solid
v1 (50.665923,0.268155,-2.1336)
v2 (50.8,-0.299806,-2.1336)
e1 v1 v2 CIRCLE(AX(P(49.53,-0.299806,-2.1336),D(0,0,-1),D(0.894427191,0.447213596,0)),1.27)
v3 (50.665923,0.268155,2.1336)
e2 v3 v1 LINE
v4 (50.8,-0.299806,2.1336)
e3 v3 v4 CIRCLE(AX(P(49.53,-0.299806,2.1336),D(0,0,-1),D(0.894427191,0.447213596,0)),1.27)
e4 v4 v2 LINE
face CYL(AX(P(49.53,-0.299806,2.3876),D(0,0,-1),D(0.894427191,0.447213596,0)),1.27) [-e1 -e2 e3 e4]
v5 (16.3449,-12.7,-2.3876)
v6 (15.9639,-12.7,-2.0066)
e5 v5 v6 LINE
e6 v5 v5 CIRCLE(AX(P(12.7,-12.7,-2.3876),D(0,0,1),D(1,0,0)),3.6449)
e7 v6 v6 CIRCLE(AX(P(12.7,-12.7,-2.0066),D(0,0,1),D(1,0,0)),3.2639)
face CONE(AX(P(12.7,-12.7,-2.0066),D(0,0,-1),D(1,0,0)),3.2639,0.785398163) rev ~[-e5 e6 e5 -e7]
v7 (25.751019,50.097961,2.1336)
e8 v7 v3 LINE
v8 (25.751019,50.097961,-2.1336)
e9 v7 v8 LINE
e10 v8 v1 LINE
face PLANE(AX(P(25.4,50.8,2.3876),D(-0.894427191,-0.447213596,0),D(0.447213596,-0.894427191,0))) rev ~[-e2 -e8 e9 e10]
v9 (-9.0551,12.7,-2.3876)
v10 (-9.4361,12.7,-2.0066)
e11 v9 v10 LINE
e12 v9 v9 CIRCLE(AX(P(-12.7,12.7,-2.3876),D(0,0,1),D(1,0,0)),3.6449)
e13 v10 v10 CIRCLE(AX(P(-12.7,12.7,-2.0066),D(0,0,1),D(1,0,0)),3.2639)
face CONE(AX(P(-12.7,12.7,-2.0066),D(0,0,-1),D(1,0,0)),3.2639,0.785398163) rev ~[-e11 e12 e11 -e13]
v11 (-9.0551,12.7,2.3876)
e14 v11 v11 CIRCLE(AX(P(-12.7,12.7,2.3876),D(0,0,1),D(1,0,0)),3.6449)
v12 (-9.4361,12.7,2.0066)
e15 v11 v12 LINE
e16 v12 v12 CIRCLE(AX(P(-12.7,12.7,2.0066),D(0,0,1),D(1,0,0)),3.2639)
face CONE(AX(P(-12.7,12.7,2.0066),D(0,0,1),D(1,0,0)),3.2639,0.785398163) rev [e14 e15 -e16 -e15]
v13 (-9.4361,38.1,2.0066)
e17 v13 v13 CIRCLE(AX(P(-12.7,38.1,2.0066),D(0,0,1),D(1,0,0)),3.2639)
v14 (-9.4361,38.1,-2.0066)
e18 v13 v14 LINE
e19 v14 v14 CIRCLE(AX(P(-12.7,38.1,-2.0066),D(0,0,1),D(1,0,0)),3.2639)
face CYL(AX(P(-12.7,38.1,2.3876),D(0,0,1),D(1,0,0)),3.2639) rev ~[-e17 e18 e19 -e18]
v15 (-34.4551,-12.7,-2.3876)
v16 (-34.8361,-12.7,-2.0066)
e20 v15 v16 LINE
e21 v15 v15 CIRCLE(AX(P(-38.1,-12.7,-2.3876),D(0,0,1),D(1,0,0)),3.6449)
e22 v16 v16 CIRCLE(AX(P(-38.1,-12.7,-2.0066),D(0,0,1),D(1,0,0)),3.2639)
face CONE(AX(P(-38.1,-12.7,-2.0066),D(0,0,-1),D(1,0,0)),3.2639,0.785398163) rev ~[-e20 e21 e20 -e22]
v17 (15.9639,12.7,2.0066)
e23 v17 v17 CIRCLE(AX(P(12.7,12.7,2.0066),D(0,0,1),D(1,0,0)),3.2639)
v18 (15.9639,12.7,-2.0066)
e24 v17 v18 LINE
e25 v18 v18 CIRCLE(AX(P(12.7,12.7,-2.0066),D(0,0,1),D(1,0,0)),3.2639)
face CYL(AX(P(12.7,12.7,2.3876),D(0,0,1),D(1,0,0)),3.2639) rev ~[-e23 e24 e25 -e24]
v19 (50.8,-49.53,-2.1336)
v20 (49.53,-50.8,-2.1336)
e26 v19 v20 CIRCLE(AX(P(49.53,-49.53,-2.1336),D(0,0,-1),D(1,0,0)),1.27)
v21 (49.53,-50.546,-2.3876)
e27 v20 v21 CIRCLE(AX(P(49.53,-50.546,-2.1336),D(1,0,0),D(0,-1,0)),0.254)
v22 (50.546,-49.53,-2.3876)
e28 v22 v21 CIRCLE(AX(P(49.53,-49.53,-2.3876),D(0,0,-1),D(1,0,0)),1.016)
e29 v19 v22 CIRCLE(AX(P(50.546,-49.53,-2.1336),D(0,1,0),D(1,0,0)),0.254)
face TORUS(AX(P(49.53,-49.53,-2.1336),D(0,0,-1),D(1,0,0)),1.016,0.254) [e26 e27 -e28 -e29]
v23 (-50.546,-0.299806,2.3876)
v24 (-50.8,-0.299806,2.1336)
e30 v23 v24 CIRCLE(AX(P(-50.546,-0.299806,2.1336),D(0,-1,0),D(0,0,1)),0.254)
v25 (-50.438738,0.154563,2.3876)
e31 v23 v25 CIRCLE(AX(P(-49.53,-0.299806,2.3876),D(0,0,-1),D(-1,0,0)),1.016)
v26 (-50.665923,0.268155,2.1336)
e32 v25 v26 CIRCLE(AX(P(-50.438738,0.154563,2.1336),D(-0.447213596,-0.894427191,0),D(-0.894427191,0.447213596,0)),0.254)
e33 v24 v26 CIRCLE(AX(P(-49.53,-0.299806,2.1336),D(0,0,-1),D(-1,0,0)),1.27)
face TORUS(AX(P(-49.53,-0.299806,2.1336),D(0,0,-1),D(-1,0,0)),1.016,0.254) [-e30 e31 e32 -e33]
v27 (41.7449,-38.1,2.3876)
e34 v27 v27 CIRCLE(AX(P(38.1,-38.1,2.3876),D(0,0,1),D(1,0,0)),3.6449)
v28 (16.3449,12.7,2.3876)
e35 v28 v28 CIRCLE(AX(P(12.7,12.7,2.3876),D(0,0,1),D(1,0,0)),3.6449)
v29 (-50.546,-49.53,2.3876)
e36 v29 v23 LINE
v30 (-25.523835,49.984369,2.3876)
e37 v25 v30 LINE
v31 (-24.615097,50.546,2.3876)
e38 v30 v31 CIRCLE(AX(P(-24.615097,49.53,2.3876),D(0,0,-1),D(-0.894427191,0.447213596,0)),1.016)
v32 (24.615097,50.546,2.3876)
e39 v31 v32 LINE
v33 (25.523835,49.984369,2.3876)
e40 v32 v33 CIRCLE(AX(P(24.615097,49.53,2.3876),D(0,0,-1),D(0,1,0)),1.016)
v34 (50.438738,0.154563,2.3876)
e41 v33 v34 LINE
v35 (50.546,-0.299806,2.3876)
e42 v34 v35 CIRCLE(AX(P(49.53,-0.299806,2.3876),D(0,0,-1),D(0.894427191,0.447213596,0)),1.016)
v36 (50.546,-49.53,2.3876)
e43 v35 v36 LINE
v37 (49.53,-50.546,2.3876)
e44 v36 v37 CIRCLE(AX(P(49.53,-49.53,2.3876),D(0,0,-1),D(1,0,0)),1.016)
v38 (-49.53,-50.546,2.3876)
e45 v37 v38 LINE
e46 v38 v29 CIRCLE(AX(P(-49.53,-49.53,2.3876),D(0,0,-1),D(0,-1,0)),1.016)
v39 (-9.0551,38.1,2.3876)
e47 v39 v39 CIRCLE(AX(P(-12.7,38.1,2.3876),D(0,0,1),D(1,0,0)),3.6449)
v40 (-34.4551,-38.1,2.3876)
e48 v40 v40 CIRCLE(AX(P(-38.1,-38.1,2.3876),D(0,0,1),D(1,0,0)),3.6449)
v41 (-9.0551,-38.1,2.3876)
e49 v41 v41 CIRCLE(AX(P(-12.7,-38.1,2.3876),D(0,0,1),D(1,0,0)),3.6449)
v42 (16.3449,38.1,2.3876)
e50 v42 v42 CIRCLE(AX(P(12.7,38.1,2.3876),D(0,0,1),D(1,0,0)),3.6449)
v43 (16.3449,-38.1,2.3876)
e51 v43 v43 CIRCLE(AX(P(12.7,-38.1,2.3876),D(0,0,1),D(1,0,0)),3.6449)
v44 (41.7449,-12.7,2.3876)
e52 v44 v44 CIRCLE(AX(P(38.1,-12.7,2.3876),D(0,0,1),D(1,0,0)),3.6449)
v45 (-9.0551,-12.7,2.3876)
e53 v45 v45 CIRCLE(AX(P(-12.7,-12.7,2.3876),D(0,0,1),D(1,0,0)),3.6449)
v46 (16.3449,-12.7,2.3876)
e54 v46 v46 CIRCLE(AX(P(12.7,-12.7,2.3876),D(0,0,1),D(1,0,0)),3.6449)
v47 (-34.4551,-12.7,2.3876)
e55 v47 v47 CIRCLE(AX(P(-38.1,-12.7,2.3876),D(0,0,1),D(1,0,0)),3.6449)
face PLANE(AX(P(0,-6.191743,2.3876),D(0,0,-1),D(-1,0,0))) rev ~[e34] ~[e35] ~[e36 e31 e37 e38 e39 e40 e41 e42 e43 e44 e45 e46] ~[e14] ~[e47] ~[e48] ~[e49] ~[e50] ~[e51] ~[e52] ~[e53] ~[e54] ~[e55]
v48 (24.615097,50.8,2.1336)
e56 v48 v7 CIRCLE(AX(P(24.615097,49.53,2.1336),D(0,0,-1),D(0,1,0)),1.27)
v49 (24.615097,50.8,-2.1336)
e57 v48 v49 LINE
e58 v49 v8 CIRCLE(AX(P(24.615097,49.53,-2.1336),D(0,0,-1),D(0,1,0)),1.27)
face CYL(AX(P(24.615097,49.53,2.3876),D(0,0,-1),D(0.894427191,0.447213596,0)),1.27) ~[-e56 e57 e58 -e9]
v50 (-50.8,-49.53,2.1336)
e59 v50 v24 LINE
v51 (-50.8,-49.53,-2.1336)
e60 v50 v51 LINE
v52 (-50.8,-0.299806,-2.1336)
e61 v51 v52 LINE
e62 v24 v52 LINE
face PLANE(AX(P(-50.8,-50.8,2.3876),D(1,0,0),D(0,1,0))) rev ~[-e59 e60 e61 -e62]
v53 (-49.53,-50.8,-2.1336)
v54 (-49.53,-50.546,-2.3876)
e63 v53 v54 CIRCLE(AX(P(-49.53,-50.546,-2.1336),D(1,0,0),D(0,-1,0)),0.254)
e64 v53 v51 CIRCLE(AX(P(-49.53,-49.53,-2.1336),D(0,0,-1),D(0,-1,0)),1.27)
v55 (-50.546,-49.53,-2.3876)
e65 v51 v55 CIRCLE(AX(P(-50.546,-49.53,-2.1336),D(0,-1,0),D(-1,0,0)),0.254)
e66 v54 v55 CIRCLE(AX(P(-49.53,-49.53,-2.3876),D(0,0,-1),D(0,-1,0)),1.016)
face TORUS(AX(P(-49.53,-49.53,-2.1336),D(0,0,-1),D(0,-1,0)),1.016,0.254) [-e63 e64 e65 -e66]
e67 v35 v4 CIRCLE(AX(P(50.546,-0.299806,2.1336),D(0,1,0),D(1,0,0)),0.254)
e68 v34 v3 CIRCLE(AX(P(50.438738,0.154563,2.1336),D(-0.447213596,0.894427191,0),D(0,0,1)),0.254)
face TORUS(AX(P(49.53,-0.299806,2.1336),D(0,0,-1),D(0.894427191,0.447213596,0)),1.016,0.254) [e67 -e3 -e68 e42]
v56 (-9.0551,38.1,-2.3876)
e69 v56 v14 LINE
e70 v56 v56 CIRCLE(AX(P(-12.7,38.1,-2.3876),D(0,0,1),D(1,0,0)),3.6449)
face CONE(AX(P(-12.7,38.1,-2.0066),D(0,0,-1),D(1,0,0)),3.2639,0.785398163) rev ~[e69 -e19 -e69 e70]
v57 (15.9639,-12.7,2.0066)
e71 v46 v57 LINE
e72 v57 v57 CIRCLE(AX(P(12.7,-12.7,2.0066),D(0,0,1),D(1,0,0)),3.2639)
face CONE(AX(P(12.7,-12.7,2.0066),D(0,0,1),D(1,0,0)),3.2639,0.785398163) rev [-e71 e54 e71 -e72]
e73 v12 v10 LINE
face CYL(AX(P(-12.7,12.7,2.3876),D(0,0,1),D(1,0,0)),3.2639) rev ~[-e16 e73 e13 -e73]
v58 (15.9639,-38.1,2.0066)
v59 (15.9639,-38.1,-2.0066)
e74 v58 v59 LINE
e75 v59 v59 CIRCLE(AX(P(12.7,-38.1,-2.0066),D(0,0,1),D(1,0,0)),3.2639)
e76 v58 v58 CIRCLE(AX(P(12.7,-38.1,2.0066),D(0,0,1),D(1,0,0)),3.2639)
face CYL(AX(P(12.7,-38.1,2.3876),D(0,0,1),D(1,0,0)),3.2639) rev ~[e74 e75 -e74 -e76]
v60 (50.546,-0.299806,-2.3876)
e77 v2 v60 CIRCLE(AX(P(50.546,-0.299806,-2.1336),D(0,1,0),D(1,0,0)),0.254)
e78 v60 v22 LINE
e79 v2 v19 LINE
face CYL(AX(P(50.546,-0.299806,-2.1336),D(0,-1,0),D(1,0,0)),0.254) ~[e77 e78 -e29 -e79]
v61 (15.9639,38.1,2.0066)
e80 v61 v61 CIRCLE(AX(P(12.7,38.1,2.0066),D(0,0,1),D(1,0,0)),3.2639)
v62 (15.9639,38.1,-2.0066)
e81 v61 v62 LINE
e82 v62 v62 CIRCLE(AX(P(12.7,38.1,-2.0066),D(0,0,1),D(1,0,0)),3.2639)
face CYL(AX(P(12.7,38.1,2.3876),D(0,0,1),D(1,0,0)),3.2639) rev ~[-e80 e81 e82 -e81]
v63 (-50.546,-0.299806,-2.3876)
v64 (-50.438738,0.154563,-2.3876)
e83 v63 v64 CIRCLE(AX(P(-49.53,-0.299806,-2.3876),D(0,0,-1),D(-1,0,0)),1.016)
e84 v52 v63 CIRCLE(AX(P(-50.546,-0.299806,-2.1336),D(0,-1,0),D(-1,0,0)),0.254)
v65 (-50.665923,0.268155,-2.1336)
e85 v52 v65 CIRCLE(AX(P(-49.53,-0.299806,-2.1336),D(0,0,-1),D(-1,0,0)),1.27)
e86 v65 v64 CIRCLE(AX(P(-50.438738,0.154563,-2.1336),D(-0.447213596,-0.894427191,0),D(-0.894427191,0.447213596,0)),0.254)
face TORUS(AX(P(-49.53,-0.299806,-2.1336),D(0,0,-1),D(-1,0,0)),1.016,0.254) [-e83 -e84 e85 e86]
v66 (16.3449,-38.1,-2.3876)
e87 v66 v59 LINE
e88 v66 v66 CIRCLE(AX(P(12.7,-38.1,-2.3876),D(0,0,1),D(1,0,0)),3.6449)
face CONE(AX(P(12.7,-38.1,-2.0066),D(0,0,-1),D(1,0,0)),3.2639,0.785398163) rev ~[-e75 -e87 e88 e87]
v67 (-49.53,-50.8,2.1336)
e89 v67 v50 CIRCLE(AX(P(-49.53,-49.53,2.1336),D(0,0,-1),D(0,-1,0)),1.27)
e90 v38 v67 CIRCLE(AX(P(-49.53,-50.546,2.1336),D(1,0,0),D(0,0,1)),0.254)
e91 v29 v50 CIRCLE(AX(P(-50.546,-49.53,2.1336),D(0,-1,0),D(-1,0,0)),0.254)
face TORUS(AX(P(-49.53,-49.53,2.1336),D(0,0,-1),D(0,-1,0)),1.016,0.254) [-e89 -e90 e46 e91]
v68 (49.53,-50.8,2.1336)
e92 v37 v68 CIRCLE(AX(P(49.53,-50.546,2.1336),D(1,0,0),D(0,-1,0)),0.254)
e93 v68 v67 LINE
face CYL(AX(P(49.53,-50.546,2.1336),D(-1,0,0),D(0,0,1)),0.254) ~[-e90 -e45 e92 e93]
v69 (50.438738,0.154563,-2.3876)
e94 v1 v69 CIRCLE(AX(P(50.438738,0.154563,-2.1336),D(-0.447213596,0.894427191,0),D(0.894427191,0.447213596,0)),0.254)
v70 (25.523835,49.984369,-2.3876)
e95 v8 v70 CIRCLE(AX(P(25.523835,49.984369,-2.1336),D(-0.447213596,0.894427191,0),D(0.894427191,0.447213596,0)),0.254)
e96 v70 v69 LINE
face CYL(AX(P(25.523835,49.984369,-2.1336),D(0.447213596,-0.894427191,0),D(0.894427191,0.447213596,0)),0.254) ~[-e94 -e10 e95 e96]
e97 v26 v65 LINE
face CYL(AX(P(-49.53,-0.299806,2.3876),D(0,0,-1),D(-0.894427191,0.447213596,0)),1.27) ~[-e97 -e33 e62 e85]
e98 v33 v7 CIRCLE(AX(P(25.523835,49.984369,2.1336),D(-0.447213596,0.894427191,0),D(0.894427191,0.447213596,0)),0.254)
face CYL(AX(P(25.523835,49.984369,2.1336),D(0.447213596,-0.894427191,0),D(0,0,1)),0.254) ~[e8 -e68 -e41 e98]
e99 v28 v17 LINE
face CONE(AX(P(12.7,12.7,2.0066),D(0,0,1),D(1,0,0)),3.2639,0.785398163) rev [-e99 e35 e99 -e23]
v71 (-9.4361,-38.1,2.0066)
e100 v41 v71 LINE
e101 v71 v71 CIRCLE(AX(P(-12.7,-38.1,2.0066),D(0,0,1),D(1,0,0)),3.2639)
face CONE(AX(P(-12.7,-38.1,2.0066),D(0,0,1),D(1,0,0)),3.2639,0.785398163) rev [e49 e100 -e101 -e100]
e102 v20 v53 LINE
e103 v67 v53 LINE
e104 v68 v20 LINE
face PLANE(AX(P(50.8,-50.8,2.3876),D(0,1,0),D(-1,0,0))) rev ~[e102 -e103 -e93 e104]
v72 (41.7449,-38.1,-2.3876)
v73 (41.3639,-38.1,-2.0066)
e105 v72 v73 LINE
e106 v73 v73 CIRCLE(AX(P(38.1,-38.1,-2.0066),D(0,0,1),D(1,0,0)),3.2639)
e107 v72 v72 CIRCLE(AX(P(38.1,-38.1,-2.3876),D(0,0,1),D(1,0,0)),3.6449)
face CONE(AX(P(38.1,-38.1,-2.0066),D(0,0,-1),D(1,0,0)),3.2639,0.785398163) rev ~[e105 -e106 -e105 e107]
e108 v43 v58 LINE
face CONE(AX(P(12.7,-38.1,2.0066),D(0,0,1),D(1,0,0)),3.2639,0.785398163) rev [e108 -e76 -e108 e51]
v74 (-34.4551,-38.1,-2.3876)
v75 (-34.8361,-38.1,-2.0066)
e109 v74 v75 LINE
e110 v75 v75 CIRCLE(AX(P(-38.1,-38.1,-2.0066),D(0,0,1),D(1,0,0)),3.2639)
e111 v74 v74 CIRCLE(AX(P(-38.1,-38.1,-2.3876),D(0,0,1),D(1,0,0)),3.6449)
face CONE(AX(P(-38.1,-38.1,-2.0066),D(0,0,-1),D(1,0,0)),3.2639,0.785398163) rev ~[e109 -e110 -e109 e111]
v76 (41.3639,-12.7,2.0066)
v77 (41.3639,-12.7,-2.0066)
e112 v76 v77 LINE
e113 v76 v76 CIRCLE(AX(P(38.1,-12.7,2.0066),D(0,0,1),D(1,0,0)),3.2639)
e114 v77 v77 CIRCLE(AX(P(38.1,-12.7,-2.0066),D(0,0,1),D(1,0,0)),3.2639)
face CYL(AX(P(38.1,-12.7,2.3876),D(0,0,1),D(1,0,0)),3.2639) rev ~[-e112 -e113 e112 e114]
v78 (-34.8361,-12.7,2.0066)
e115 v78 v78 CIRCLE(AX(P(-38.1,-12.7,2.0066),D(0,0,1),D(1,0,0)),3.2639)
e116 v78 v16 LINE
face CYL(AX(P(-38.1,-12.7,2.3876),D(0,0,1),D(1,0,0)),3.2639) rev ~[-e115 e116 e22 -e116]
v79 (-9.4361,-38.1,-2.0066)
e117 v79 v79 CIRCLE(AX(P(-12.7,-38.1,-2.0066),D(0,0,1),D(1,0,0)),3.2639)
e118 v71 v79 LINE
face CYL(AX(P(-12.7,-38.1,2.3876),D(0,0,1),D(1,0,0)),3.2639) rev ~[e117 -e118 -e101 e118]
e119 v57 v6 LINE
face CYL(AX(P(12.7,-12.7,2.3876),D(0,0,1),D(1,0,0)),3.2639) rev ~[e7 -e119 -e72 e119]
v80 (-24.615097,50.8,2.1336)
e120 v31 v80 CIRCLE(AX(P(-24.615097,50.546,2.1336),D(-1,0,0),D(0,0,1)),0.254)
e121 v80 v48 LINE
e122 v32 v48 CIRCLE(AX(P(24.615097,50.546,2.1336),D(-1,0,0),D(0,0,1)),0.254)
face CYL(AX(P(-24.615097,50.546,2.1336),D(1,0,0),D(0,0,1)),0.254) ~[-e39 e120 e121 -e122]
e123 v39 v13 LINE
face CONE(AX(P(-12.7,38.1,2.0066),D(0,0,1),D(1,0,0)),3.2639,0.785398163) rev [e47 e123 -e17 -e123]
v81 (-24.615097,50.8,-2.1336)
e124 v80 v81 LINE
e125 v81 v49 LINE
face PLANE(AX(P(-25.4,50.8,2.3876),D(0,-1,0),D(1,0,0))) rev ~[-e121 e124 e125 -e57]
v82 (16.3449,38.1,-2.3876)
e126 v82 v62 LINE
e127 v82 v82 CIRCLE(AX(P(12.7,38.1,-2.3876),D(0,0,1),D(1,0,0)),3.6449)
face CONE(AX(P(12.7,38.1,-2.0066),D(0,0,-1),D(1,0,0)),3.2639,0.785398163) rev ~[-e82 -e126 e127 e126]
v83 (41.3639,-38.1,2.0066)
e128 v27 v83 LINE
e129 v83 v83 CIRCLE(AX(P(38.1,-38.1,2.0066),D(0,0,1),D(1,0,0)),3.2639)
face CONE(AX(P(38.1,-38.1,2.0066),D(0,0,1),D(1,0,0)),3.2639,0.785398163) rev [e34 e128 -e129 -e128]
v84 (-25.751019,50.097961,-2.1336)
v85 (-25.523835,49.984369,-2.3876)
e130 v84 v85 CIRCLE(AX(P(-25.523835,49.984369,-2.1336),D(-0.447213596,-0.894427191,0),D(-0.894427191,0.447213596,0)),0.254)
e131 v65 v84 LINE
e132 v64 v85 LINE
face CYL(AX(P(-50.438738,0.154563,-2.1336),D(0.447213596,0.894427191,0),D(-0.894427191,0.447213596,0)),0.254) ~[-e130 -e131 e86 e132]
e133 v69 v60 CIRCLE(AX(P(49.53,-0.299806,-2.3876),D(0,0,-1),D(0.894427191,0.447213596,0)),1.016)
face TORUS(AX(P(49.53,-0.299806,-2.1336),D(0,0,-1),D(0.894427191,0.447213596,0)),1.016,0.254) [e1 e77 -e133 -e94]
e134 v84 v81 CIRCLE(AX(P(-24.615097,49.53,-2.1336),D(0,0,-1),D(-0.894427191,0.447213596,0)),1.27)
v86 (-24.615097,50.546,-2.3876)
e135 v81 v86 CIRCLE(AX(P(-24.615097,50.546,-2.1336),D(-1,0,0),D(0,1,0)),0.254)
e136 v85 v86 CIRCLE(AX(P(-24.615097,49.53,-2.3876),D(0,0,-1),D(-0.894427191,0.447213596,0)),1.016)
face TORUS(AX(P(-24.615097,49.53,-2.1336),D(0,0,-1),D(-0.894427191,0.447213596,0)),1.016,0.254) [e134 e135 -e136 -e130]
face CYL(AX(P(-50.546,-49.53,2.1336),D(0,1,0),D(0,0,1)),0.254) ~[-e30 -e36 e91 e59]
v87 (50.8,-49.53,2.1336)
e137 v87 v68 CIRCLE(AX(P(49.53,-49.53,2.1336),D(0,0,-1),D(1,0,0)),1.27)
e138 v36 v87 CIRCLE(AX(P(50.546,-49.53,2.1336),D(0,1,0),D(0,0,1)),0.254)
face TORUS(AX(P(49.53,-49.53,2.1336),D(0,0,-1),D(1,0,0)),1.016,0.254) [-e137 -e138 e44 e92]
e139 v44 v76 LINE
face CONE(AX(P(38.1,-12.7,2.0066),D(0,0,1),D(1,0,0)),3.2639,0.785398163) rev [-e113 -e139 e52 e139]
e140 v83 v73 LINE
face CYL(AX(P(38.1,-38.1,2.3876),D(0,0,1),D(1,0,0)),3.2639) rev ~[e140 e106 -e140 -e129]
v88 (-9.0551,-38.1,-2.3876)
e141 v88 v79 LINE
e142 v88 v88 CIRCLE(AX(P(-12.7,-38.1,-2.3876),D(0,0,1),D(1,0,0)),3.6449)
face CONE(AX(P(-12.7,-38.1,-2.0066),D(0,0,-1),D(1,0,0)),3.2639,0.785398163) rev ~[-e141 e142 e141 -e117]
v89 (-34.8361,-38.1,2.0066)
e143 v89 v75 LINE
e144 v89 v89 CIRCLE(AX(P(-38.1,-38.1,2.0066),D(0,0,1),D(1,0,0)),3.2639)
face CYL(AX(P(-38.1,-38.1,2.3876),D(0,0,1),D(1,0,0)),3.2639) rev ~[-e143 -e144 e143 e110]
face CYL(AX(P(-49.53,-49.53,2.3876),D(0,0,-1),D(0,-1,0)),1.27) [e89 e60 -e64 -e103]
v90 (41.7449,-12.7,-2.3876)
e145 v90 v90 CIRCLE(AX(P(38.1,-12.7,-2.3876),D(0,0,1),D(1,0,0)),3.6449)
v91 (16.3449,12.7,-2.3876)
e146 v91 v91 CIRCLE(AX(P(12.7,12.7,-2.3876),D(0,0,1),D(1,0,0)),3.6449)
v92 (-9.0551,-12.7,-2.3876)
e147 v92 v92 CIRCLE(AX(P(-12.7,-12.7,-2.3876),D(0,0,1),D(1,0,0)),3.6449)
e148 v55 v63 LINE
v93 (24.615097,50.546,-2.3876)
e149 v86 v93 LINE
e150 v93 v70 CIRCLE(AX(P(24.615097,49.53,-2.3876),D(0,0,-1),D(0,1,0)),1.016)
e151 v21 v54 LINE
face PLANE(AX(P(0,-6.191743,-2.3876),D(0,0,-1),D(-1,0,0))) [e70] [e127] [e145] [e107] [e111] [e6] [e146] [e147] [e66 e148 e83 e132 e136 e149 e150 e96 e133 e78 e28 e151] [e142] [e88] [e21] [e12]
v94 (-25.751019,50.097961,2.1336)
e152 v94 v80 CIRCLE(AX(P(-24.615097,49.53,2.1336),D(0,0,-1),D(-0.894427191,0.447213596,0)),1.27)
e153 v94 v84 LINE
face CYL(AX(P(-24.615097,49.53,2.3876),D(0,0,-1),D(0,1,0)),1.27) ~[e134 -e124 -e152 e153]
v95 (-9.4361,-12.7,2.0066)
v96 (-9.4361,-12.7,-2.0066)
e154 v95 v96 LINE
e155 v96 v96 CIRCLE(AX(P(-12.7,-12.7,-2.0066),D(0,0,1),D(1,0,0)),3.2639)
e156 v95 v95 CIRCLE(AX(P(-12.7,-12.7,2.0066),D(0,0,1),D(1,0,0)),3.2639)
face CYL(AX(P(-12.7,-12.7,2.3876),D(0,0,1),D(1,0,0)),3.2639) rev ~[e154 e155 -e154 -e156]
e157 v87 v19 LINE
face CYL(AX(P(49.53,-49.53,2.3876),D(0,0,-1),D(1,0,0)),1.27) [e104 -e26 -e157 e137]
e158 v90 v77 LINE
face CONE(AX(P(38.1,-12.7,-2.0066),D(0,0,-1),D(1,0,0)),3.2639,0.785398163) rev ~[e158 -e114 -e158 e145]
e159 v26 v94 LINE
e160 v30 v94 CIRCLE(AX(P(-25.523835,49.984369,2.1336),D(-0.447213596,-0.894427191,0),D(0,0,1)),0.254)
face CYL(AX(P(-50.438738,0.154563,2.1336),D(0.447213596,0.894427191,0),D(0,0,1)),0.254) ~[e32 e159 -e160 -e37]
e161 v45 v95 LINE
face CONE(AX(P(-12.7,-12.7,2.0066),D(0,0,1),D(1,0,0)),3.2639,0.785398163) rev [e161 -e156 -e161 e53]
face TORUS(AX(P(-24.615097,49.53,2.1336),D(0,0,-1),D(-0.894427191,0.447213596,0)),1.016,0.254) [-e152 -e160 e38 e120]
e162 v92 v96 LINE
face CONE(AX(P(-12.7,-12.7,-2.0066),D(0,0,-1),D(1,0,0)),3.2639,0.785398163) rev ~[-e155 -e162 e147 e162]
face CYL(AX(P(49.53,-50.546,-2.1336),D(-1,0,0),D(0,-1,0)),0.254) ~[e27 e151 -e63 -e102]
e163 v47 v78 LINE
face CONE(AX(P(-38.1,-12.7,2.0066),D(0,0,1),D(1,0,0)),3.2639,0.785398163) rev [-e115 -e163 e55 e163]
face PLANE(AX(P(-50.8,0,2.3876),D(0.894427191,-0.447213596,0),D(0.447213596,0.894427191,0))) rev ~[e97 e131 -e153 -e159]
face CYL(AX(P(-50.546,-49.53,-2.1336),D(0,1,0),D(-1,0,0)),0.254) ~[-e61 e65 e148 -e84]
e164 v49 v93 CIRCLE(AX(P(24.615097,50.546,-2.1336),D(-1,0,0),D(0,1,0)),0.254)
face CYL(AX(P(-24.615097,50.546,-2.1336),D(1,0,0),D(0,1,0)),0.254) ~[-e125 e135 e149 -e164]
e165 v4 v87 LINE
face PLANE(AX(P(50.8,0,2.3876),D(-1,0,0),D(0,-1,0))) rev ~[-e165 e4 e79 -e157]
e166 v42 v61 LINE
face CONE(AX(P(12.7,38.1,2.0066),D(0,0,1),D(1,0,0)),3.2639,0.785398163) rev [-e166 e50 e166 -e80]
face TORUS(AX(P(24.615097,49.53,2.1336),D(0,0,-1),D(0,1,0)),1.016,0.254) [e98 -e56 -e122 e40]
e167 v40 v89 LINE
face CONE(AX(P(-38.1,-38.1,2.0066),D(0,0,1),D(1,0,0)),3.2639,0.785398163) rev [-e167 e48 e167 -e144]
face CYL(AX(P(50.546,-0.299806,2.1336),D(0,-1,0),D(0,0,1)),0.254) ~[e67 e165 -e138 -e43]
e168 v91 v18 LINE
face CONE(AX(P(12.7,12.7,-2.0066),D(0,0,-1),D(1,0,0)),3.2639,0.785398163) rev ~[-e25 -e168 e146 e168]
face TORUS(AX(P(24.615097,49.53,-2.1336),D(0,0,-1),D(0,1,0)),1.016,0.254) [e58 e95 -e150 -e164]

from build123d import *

# Parameters (mm, degrees)
BOSS_EXTRUDE1_START = 2.3876
SKETCH3_R           = 3.2639
BOSS_EXTRUDE1_DEPTH = 4.7752
FILLET1_R           = 1.27
CHAMFER1_SIZE       = 0.381
FILLET2_R           = 0.254


with BuildPart() as part:
    # Sketch3 → Boss-Extrude1 (new body)
    with BuildSketch(Plane.XY.offset(BOSS_EXTRUDE1_START)):
        Polygon((25.4, 50.8), (50.8, 0), (50.8, -50.8), (-50.8, -50.8), (-50.8, 0), (-25.4, 50.8), align=None)
        with Locations((-38.1, -38.1)):
            Circle(SKETCH3_R, mode=Mode.SUBTRACT)
        with Locations((-12.7, -38.1)):
            Circle(SKETCH3_R, mode=Mode.SUBTRACT)
        with Locations((12.7, -38.1)):
            Circle(SKETCH3_R, mode=Mode.SUBTRACT)
        with Locations((38.1, -38.1)):
            Circle(SKETCH3_R, mode=Mode.SUBTRACT)
        with Locations((-12.7, -12.7)):
            Circle(SKETCH3_R, mode=Mode.SUBTRACT)
        with Locations((12.7, -12.7)):
            Circle(SKETCH3_R, mode=Mode.SUBTRACT)
        with Locations((38.1, -12.7)):
            Circle(SKETCH3_R, mode=Mode.SUBTRACT)
        with Locations((-12.7, 12.7)):
            Circle(SKETCH3_R, mode=Mode.SUBTRACT)
        with Locations((12.7, 12.7)):
            Circle(SKETCH3_R, mode=Mode.SUBTRACT)
        with Locations((-12.7, 38.1)):
            Circle(SKETCH3_R, mode=Mode.SUBTRACT)
        with Locations((12.7, 38.1)):
            Circle(SKETCH3_R, mode=Mode.SUBTRACT)
        with Locations((-38.1, -12.7)):
            Circle(SKETCH3_R, mode=Mode.SUBTRACT)
    extrude(amount=-BOSS_EXTRUDE1_DEPTH)

    # Fillet1
    fillet1_edges = [part.edges().sort_by_distance(p)[0] for p in [
        (25.4, 50.8, 0),
        (50.8, 0, 0),
        (50.8, -50.8, 0),
        (-50.8, -50.8, 0),
        (-50.8, 0, 0),
        (-25.4, 50.8, 0),
    ]]
    fillet(fillet1_edges, radius=FILLET1_R)

    # Chamfer1
    chamfer1_edges = [part.edges().sort_by_distance(p)[0] for p in [
        (-41.3639, -38.1, -2.3876),
        (-41.3639, -38.1, 2.3876),
        (-15.9639, -38.1, -2.3876),
        (-15.9639, -38.1, 2.3876),
        (9.4361, -38.1, -2.3876),
        (9.4361, -38.1, 2.3876),
        (34.8361, -38.1, -2.3876),
        (34.8361, -38.1, 2.3876),
        (-15.9639, -12.7, -2.3876),
        (-15.9639, -12.7, 2.3876),
        (9.4361, -12.7, -2.3876),
        (9.4361, -12.7, 2.3876),
        (34.8361, -12.7, -2.3876),
        (34.8361, -12.7, 2.3876),
        (-15.9639, 12.7, -2.3876),
        (-15.9639, 12.7, 2.3876),
        (9.4361, 12.7, -2.3876),
        (9.4361, 12.7, 2.3876),
        (-15.9639, 38.1, -2.3876),
        (-15.9639, 38.1, 2.3876),
        (9.4361, 38.1, -2.3876),
        (9.4361, 38.1, 2.3876),
        (-41.3639, -12.7, -2.3876),
        (-41.3639, -12.7, 2.3876),
    ]]
    chamfer(chamfer1_edges, length=CHAMFER1_SIZE)

    # Fillet2
    fillet2_edges = [part.edges().sort_by_distance(p)[0] for p in [
        (0, 50.8, 2.3876),
        (0, 50.8, -2.3876),
        (-38.20847095, 25.183058101, 2.3876),
        (-50.8, -24.914903166, 2.3876),
        (0, -50.8, 2.3876),
        (50.8, -24.914903166, 2.3876),
        (38.20847095, 25.183058101, 2.3876),
        (50.766026217, -0.008020122, 2.3876),
        (50.428025612, -50.428025612, 2.3876),
        (25.282775347, 50.610326527, 2.3876),
        (-50.428025612, -50.428025612, 2.3876),
        (-50.766026217, -0.008020122, 2.3876),
        (-25.282775347, 50.610326527, 2.3876),
        (-38.20847095, 25.183058101, -2.3876),
        (38.20847095, 25.183058101, -2.3876),
        (50.8, -24.914903166, -2.3876),
        (0, -50.8, -2.3876),
        (-50.8, -24.914903166, -2.3876),
        (50.766026217, -0.008020122, -2.3876),
        (50.428025612, -50.428025612, -2.3876),
        (25.282775347, 50.610326527, -2.3876),
        (-50.428025612, -50.428025612, -2.3876),
        (-50.766026217, -0.008020122, -2.3876),
        (-25.282775347, 50.610326527, -2.3876),
    ]]
    fillet(fillet2_edges, radius=FILLET2_R)


solid = part.part
